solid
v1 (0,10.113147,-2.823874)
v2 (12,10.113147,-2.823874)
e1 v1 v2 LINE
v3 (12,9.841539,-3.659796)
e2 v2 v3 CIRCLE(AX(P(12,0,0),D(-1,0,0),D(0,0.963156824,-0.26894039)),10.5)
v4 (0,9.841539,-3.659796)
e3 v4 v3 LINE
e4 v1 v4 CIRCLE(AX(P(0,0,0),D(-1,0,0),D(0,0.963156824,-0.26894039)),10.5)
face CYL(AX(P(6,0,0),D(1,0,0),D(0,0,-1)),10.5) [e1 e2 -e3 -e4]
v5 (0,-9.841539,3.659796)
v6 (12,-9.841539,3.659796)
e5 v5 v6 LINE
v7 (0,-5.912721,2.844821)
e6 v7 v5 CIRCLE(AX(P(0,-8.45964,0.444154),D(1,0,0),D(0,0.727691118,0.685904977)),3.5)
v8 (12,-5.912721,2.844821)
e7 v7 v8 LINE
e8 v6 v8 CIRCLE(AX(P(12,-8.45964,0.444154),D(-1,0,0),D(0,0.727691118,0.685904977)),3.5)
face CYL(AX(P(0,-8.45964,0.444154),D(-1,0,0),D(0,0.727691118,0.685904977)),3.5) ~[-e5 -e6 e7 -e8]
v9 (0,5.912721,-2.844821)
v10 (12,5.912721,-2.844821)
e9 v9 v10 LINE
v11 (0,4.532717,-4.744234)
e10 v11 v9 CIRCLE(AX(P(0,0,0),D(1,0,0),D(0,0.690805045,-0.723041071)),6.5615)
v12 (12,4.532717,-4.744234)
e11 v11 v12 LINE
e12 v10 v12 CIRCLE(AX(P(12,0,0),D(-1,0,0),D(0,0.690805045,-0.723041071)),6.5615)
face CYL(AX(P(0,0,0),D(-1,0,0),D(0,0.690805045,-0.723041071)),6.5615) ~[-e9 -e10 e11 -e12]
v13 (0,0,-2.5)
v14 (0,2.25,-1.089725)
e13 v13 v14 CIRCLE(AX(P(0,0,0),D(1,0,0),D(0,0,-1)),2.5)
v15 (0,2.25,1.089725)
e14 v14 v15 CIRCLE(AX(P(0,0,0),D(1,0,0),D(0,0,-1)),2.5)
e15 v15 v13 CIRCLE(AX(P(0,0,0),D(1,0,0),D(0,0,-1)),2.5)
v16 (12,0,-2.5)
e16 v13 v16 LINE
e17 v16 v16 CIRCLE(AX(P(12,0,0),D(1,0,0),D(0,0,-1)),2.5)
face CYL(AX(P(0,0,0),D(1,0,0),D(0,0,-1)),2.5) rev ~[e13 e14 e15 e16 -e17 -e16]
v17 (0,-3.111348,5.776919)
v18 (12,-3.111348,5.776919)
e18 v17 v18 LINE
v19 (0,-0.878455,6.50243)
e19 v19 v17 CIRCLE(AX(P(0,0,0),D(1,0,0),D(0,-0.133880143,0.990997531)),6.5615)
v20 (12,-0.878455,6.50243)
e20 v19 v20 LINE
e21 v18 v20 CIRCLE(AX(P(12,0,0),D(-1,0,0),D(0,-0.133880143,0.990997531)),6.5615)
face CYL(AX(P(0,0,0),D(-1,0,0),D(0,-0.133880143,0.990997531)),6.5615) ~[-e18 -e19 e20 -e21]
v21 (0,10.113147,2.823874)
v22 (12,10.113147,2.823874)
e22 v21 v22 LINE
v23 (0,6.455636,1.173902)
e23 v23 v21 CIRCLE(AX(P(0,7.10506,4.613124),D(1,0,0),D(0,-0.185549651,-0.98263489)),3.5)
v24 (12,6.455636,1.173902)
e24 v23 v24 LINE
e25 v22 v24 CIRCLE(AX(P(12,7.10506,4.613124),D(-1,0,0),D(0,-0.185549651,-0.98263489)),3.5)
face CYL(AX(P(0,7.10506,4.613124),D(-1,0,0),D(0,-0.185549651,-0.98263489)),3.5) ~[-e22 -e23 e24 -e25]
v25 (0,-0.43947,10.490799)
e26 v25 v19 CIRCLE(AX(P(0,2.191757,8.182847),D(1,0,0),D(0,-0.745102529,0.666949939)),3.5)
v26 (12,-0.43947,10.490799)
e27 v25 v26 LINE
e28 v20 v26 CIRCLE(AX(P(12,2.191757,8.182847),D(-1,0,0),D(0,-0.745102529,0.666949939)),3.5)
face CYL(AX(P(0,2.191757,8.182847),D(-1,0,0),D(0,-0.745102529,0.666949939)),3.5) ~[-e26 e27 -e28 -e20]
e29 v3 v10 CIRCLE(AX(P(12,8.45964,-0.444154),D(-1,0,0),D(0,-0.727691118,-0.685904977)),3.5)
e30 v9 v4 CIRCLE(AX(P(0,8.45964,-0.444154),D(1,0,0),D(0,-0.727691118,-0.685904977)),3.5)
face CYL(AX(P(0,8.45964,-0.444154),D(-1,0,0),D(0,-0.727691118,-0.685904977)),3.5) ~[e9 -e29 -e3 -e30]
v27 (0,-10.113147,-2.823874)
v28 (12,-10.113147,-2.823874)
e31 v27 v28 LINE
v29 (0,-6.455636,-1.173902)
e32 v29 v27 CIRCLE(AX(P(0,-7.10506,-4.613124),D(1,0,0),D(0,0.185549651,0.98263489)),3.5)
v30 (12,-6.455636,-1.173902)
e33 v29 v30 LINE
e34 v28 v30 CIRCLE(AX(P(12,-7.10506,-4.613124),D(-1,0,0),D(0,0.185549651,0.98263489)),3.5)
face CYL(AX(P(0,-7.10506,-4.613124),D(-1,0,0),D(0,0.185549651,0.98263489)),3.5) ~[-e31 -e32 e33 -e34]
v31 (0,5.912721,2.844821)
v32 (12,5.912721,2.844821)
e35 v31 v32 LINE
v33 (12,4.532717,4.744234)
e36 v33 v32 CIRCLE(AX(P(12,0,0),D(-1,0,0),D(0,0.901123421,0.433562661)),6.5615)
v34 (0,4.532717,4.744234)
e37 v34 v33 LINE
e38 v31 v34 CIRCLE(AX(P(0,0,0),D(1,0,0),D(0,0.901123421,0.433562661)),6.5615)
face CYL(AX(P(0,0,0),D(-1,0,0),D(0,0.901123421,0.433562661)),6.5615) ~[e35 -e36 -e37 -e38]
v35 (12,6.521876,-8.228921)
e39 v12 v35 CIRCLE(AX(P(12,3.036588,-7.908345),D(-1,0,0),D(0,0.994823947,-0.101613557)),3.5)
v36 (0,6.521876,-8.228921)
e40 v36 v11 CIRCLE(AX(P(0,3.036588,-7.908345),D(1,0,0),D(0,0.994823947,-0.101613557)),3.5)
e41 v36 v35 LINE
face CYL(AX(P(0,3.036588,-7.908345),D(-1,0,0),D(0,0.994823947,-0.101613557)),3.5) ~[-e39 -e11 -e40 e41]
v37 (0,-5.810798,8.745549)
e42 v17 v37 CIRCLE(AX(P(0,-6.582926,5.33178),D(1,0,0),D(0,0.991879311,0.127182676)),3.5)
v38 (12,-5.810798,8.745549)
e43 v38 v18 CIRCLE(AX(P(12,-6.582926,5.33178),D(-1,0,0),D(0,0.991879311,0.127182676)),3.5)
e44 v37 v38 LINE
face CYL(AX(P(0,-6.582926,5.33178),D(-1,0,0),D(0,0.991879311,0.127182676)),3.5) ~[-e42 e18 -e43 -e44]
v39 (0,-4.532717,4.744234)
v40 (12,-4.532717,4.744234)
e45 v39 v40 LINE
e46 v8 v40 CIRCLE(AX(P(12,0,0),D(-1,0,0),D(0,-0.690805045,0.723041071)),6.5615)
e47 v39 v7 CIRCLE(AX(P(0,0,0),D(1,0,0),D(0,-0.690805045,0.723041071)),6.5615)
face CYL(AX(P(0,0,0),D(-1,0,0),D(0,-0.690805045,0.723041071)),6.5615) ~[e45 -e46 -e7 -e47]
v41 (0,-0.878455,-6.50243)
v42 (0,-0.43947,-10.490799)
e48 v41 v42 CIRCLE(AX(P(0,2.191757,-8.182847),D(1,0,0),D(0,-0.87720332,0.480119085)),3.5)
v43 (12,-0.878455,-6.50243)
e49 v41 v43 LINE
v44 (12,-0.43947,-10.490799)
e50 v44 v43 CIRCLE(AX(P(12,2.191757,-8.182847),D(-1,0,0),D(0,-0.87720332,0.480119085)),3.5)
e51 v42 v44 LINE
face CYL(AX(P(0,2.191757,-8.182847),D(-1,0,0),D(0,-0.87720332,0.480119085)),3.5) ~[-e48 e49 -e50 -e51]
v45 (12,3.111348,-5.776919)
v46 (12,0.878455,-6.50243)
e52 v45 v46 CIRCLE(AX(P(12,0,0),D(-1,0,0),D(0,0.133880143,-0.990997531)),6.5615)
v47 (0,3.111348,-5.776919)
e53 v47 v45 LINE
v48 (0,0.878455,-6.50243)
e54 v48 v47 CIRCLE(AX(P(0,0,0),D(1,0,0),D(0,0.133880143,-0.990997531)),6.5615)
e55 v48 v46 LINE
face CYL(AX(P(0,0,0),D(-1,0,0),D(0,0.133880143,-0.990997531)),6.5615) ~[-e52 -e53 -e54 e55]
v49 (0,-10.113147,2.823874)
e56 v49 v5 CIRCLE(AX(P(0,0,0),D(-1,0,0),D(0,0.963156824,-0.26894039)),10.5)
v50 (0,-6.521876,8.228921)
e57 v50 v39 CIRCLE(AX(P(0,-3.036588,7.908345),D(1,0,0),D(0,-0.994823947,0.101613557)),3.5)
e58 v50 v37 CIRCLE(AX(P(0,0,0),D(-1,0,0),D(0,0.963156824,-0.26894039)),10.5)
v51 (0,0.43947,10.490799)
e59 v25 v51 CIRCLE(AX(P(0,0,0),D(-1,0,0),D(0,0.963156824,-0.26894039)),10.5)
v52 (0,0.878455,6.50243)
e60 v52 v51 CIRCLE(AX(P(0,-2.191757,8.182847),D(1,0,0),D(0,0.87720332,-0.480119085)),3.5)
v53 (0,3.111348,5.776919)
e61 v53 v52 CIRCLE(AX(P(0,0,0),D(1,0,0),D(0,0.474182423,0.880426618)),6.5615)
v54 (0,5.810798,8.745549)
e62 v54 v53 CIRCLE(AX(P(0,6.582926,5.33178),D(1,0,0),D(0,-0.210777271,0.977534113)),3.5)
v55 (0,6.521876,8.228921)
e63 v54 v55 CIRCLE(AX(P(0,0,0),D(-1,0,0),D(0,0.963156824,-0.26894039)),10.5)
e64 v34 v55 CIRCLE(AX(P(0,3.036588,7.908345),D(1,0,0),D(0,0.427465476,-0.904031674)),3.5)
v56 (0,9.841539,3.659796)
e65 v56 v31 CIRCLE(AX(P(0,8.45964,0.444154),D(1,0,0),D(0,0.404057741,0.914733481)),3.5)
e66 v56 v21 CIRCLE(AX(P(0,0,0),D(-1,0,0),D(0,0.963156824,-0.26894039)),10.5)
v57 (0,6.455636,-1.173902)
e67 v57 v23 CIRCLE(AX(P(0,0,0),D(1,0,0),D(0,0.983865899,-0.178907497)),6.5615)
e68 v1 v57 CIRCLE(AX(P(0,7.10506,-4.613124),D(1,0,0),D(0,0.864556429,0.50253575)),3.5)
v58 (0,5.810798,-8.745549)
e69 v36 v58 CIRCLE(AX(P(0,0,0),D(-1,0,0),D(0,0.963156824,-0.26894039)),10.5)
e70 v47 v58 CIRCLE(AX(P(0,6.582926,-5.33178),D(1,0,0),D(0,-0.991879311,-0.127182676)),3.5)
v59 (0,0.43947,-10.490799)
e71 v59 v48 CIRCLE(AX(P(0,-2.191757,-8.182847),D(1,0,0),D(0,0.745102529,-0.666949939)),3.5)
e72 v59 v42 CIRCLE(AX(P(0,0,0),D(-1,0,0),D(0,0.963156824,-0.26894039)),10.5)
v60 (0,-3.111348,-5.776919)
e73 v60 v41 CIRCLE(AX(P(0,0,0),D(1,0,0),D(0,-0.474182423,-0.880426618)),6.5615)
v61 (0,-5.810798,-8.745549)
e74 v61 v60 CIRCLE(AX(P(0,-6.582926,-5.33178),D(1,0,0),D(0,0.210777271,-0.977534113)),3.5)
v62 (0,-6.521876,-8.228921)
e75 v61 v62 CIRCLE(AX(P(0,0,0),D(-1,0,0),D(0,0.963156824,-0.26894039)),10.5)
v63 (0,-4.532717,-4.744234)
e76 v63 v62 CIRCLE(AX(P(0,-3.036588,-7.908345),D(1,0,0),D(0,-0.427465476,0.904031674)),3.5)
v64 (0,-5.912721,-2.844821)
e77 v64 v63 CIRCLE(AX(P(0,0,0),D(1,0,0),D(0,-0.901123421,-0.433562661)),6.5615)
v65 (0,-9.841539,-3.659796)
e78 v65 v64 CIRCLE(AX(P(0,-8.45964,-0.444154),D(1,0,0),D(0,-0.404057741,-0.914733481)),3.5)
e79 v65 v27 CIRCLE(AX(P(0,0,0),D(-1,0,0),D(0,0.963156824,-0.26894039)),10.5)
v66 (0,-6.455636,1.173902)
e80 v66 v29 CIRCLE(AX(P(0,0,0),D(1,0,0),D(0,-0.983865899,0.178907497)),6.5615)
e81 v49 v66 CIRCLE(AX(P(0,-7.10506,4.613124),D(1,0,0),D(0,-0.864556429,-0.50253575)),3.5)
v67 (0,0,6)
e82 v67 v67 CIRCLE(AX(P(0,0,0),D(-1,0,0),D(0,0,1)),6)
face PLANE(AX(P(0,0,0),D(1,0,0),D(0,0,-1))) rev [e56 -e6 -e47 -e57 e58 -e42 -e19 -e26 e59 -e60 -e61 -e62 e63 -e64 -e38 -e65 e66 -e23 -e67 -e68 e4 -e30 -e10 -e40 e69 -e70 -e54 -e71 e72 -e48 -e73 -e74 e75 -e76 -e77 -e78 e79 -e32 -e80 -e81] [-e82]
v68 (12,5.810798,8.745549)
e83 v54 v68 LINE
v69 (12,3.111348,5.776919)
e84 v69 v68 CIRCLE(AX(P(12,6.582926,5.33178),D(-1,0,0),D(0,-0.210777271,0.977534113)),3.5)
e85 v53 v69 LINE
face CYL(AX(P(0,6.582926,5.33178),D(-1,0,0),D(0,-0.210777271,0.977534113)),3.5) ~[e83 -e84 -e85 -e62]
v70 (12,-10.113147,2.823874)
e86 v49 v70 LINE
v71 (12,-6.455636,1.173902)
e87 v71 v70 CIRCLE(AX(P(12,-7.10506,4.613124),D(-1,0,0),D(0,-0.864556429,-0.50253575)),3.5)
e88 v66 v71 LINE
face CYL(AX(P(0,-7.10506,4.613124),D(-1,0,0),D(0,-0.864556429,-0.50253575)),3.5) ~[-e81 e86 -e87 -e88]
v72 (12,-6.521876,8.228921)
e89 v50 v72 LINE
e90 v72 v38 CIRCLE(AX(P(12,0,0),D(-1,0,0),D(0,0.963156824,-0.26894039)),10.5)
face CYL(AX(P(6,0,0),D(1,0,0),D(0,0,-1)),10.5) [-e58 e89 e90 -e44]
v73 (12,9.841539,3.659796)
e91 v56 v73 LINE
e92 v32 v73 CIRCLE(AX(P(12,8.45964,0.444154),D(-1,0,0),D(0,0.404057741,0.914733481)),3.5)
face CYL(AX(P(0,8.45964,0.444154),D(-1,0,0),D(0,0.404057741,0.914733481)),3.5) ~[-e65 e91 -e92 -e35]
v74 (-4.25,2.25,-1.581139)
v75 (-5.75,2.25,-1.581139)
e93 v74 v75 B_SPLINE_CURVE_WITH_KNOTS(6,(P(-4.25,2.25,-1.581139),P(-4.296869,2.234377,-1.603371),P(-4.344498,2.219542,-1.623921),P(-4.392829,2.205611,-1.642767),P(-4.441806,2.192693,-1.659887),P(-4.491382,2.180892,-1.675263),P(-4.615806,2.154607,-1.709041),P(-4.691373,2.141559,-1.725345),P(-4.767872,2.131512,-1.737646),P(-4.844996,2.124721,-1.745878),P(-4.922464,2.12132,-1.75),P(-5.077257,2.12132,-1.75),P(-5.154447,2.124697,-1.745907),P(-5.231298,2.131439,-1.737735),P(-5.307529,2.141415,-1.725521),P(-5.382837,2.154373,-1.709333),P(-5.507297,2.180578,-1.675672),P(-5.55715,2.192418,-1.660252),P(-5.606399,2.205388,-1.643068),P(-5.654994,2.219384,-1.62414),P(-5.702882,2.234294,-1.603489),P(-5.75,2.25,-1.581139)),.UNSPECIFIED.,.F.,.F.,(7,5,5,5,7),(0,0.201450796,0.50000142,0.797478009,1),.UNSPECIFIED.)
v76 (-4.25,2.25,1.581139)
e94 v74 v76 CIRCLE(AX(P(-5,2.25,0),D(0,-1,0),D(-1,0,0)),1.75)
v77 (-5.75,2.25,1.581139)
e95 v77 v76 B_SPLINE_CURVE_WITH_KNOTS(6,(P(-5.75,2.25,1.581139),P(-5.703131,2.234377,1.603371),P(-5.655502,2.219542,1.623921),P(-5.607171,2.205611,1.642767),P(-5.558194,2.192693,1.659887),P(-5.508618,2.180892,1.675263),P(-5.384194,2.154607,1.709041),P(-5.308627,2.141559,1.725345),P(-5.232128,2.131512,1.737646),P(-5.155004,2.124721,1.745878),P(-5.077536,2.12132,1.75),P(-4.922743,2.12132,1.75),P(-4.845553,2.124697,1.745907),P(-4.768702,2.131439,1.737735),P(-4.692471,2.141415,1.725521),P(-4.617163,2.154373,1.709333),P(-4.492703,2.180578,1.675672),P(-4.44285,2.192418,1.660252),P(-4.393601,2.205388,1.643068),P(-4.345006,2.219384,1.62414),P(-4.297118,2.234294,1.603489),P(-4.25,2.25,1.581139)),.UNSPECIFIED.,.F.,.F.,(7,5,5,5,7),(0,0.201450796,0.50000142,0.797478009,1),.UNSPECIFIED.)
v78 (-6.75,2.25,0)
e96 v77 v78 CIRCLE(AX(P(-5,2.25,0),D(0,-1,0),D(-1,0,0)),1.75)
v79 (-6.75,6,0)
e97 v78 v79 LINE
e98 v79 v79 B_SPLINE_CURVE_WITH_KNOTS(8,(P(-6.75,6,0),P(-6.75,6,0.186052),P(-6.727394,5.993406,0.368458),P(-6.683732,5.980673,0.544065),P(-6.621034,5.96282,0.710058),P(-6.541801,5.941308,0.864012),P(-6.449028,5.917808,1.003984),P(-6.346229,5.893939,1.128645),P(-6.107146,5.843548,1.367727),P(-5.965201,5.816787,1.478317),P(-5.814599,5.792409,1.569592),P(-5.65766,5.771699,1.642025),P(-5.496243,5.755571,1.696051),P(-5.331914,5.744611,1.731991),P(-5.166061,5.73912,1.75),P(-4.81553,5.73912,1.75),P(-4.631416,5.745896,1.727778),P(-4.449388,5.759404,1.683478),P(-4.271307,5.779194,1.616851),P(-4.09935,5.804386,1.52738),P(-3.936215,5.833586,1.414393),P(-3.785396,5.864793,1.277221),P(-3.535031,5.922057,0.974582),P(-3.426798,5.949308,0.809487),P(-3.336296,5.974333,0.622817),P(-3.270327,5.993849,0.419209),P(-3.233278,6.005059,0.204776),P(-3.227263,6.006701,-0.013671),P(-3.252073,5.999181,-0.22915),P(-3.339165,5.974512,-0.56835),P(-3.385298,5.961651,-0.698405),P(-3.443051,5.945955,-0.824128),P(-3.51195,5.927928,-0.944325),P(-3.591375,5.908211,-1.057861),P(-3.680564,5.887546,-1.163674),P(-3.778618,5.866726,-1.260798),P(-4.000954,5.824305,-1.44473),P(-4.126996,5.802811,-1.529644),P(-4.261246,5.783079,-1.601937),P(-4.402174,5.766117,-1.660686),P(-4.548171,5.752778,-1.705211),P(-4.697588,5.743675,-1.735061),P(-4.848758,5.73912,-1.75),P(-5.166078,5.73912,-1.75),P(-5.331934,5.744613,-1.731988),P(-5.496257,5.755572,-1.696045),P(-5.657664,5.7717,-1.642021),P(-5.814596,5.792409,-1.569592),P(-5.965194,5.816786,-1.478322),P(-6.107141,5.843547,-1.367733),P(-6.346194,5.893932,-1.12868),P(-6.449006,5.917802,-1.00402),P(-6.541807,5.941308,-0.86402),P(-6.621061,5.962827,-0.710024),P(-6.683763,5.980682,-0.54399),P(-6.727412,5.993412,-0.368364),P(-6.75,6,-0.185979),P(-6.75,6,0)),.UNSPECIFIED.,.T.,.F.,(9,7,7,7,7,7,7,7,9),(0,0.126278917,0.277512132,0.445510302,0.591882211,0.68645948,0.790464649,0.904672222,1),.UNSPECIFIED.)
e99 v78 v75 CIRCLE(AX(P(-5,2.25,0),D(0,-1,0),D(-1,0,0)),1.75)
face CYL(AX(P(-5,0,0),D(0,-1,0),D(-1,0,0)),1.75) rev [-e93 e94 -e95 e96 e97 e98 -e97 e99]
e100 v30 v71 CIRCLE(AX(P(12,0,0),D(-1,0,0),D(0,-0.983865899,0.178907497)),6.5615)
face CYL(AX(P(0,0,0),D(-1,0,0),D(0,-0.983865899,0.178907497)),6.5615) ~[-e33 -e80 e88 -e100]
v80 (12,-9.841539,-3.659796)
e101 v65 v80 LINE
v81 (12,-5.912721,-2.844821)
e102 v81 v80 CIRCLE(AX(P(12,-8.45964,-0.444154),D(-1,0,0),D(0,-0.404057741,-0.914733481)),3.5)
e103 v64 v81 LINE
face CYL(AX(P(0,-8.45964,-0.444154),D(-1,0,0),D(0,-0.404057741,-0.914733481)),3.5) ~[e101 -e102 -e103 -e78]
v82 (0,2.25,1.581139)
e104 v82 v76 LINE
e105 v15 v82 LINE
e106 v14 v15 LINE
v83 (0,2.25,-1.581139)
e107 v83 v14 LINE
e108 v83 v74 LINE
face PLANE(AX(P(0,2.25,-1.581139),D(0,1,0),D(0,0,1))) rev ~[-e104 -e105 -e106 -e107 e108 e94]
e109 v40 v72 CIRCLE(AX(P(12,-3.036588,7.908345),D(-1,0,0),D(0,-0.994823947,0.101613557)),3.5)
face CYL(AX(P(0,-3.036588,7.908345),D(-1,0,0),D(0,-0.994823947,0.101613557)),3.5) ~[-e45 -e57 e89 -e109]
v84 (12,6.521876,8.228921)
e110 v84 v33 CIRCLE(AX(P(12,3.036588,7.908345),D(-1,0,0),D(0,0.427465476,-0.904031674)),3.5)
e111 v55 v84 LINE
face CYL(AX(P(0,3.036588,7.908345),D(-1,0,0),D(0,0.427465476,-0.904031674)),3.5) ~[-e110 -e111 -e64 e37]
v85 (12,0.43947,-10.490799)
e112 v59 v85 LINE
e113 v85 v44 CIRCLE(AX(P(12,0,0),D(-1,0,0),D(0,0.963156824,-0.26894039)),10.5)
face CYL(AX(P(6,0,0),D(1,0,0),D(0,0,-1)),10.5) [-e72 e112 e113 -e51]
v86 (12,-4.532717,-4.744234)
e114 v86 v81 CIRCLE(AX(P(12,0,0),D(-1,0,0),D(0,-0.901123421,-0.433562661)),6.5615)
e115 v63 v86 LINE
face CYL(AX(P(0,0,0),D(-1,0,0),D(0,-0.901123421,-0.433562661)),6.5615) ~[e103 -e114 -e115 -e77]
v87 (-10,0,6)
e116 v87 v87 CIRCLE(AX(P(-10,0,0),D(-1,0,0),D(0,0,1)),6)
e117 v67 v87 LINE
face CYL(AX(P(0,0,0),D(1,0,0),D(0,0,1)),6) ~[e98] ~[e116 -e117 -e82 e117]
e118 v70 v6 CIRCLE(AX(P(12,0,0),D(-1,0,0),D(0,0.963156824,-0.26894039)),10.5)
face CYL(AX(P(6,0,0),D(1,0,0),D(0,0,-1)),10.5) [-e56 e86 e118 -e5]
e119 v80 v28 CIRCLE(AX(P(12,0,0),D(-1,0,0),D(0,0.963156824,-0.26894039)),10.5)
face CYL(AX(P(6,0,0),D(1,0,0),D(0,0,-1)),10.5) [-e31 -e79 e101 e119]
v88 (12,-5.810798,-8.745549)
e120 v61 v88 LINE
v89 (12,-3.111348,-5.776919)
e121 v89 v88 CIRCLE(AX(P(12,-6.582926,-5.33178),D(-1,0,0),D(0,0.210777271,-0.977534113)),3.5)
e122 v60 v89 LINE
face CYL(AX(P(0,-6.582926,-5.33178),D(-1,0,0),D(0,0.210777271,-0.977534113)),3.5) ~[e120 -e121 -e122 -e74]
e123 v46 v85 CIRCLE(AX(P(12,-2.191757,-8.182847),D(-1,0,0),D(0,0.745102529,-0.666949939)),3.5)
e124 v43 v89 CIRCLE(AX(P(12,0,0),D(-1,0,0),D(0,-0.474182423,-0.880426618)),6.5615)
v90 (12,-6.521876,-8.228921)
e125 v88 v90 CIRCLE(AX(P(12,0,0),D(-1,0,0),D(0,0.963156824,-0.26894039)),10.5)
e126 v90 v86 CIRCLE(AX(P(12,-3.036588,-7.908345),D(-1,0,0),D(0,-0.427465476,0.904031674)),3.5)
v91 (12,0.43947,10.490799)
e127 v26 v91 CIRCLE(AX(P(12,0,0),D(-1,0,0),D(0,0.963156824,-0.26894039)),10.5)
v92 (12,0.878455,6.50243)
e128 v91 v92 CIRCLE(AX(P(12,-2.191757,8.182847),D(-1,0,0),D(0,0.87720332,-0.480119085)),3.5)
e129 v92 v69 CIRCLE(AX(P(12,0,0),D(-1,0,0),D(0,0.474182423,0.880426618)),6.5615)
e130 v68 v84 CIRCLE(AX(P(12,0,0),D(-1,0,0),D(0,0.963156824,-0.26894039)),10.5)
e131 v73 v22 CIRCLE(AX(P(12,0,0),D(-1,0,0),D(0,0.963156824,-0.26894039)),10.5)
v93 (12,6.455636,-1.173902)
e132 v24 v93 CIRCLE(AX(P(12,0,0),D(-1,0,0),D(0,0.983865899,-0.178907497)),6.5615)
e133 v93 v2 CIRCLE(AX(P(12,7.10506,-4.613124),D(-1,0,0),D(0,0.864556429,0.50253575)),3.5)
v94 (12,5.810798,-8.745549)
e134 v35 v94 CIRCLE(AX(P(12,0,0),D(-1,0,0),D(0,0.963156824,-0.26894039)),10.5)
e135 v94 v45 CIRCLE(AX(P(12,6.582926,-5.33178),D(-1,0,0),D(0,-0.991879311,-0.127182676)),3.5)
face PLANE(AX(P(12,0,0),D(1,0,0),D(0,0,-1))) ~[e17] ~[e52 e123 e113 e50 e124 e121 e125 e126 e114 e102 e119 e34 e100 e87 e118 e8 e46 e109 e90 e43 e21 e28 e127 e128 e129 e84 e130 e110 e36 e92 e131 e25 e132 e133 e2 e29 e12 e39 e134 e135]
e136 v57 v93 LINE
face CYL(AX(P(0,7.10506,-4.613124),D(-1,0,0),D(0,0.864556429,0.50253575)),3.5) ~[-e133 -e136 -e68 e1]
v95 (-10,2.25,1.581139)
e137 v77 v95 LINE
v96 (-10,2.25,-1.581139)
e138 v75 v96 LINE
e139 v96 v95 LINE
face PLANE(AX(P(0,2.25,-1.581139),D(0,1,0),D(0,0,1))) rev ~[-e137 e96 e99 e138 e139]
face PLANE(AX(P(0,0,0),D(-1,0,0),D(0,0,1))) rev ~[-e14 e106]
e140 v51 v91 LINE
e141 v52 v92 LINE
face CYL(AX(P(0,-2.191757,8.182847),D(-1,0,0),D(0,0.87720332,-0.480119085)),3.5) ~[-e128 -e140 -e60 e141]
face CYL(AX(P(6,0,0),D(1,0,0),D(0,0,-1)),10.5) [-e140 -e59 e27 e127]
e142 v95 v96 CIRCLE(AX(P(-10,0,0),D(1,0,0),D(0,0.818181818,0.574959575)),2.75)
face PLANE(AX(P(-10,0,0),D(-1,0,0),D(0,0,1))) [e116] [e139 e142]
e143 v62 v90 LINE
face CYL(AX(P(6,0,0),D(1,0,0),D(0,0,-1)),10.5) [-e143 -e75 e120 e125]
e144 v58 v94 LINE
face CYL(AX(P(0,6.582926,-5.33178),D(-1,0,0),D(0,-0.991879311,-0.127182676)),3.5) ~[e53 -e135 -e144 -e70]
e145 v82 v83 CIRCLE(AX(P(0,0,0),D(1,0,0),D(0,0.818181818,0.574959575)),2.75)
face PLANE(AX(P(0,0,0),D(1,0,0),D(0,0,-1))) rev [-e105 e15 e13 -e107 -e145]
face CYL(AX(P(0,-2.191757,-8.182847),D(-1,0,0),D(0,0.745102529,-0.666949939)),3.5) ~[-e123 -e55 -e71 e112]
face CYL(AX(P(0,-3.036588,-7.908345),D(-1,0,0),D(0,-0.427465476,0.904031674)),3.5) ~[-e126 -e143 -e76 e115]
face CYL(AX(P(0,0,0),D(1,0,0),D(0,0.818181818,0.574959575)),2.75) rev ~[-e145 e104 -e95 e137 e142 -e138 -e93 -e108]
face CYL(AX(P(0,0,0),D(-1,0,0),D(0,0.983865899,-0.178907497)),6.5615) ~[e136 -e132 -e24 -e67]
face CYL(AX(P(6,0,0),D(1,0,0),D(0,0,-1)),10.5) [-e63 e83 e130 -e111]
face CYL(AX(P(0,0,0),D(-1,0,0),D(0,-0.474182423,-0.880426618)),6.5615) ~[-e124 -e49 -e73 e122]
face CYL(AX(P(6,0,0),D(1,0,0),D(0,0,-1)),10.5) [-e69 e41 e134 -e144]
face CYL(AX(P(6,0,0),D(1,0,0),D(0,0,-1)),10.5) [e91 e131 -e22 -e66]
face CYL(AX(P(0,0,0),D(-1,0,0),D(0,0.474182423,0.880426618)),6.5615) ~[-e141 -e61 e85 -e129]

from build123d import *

# Parameters (mm, degrees)
BASPROSKE_W         = 12
BASPROSKE_H         = 10.5
TOOTHCUT_DEPTH      = 13
TEETHCUTS_COUNT     = 10
TEETHCUTS_ANGLE     = 324
BORSKE_R            = 2.5
BORE_DEPTH          = 50.0000508
SKETCH2_R           = 6
SKETCH2_R_2         = 2.75
BOSS_EXTRUDE1_DEPTH = 10
CUT_EXTRUDE1_DEPTH  = 10


with BuildPart() as part:
    # BasProSke → Base-Revolve (revolve)
    with BuildSketch(Plane(origin=(0, 0, 0), x_dir=(1, 0, 0), z_dir=(0, 1, 0))):
        with Locations((6, 5.25)):
            Rectangle(BASPROSKE_W, BASPROSKE_H)
    revolve(axis=Axis((-10, 0, 0), (1, 0, 0)))

    # TooCutSke → ToothCut (cut, through all)
    with BuildSketch(Plane(origin=(0, 0, 0), x_dir=(0, 0, -1), z_dir=(1, 0, 0))):
        with BuildLine():
            ThreePointArc((1.173901537, 6.455636098), (0, 6.5615), (-1.173901537, 6.455636098))
            ThreePointArc((-1.173901537, 6.455636098), (-1.430021039, 8.560346018), (-2.854248526, 10.131007379))
            ThreePointArc((-2.854248526, 10.131007379), (0, 10.5254), (2.854248526, 10.131007379))
            ThreePointArc((2.854248526, 10.131007379), (1.430021039, 8.560346018), (1.173901537, 6.455636098))
        make_face()
    toothcut = extrude(amount=TOOTHCUT_DEPTH, mode=Mode.SUBTRACT)

    # TeethCuts: ToothCut ×10 about axis
    teethcuts_axis = Axis((-10, 0, 0), (1, 0, 0))
    for i in range(1, TEETHCUTS_COUNT):
        add(toothcut.rotate(teethcuts_axis, i * TEETHCUTS_ANGLE / (TEETHCUTS_COUNT - 1)), mode=Mode.SUBTRACT)

    # BorSke → Bore (cut, symmetric)
    with BuildSketch(Plane(origin=(0, 0, 0), x_dir=(0, 0, -1), z_dir=(1, 0, 0))):
        Circle(BORSKE_R)
    extrude(amount=BORE_DEPTH, both=True, mode=Mode.SUBTRACT)

    # Sketch2 → Boss-Extrude1 (add)
    with BuildSketch(Plane.ZY):
        Circle(SKETCH2_R)
        Circle(SKETCH2_R_2, mode=Mode.SUBTRACT)
        with BuildLine():
            ThreePointArc((1.58113883, 2.25), (0.829156198, 2.62202212), (0, 2.75))
            Line((0, 2.75), (0, 2.5))
            ThreePointArc((0, 2.5), (0.559016994, 2.436698586), (1.089724736, 2.25))
            Line((1.089724736, 2.25), (1.58113883, 2.25))
        make_face()
        with BuildLine():
            Line((0, 2.5), (0, 2.75))
            ThreePointArc((0, 2.75), (-0.829156198, 2.62202212), (-1.58113883, 2.25))
            Line((-1.58113883, 2.25), (-1.089724736, 2.25))
            ThreePointArc((-1.089724736, 2.25), (-0.559016994, 2.436698586), (0, 2.5))
        make_face()
        with BuildLine():
            ThreePointArc((1.089724736, 2.25), (0.559016994, 2.436698586), (0, 2.5))
            Line((0, 2.5), (0, 2.25))
            Line((0, 2.25), (1.089724736, 2.25))
        make_face()
        with BuildLine():
            Line((0, 2.25), (0, 2.5))
            ThreePointArc((0, 2.5), (-0.559016994, 2.436698586), (-1.089724736, 2.25))
            Line((-1.089724736, 2.25), (0, 2.25))
        make_face()
    extrude(amount=BOSS_EXTRUDE1_DEPTH)

    # Sketch4 → Cut-Extrude1 (cut)
    with BuildSketch(Plane(origin=(0, 0, 0), x_dir=(1, 0, 0), z_dir=(0, 1, 0))):
        with BuildLine():
            ThreePointArc((-3.25, 0), (-5, 1.75), (-6.75, 0))
            Line((-6.75, 0), (-3.25, 0))
        make_face()
        with BuildLine():
            Line((-3.25, 0), (-6.75, 0))
            ThreePointArc((-6.75, 0), (-5, -1.75), (-3.25, 0))
        make_face()
    extrude(amount=CUT_EXTRUDE1_DEPTH, mode=Mode.SUBTRACT)


solid = part.part
